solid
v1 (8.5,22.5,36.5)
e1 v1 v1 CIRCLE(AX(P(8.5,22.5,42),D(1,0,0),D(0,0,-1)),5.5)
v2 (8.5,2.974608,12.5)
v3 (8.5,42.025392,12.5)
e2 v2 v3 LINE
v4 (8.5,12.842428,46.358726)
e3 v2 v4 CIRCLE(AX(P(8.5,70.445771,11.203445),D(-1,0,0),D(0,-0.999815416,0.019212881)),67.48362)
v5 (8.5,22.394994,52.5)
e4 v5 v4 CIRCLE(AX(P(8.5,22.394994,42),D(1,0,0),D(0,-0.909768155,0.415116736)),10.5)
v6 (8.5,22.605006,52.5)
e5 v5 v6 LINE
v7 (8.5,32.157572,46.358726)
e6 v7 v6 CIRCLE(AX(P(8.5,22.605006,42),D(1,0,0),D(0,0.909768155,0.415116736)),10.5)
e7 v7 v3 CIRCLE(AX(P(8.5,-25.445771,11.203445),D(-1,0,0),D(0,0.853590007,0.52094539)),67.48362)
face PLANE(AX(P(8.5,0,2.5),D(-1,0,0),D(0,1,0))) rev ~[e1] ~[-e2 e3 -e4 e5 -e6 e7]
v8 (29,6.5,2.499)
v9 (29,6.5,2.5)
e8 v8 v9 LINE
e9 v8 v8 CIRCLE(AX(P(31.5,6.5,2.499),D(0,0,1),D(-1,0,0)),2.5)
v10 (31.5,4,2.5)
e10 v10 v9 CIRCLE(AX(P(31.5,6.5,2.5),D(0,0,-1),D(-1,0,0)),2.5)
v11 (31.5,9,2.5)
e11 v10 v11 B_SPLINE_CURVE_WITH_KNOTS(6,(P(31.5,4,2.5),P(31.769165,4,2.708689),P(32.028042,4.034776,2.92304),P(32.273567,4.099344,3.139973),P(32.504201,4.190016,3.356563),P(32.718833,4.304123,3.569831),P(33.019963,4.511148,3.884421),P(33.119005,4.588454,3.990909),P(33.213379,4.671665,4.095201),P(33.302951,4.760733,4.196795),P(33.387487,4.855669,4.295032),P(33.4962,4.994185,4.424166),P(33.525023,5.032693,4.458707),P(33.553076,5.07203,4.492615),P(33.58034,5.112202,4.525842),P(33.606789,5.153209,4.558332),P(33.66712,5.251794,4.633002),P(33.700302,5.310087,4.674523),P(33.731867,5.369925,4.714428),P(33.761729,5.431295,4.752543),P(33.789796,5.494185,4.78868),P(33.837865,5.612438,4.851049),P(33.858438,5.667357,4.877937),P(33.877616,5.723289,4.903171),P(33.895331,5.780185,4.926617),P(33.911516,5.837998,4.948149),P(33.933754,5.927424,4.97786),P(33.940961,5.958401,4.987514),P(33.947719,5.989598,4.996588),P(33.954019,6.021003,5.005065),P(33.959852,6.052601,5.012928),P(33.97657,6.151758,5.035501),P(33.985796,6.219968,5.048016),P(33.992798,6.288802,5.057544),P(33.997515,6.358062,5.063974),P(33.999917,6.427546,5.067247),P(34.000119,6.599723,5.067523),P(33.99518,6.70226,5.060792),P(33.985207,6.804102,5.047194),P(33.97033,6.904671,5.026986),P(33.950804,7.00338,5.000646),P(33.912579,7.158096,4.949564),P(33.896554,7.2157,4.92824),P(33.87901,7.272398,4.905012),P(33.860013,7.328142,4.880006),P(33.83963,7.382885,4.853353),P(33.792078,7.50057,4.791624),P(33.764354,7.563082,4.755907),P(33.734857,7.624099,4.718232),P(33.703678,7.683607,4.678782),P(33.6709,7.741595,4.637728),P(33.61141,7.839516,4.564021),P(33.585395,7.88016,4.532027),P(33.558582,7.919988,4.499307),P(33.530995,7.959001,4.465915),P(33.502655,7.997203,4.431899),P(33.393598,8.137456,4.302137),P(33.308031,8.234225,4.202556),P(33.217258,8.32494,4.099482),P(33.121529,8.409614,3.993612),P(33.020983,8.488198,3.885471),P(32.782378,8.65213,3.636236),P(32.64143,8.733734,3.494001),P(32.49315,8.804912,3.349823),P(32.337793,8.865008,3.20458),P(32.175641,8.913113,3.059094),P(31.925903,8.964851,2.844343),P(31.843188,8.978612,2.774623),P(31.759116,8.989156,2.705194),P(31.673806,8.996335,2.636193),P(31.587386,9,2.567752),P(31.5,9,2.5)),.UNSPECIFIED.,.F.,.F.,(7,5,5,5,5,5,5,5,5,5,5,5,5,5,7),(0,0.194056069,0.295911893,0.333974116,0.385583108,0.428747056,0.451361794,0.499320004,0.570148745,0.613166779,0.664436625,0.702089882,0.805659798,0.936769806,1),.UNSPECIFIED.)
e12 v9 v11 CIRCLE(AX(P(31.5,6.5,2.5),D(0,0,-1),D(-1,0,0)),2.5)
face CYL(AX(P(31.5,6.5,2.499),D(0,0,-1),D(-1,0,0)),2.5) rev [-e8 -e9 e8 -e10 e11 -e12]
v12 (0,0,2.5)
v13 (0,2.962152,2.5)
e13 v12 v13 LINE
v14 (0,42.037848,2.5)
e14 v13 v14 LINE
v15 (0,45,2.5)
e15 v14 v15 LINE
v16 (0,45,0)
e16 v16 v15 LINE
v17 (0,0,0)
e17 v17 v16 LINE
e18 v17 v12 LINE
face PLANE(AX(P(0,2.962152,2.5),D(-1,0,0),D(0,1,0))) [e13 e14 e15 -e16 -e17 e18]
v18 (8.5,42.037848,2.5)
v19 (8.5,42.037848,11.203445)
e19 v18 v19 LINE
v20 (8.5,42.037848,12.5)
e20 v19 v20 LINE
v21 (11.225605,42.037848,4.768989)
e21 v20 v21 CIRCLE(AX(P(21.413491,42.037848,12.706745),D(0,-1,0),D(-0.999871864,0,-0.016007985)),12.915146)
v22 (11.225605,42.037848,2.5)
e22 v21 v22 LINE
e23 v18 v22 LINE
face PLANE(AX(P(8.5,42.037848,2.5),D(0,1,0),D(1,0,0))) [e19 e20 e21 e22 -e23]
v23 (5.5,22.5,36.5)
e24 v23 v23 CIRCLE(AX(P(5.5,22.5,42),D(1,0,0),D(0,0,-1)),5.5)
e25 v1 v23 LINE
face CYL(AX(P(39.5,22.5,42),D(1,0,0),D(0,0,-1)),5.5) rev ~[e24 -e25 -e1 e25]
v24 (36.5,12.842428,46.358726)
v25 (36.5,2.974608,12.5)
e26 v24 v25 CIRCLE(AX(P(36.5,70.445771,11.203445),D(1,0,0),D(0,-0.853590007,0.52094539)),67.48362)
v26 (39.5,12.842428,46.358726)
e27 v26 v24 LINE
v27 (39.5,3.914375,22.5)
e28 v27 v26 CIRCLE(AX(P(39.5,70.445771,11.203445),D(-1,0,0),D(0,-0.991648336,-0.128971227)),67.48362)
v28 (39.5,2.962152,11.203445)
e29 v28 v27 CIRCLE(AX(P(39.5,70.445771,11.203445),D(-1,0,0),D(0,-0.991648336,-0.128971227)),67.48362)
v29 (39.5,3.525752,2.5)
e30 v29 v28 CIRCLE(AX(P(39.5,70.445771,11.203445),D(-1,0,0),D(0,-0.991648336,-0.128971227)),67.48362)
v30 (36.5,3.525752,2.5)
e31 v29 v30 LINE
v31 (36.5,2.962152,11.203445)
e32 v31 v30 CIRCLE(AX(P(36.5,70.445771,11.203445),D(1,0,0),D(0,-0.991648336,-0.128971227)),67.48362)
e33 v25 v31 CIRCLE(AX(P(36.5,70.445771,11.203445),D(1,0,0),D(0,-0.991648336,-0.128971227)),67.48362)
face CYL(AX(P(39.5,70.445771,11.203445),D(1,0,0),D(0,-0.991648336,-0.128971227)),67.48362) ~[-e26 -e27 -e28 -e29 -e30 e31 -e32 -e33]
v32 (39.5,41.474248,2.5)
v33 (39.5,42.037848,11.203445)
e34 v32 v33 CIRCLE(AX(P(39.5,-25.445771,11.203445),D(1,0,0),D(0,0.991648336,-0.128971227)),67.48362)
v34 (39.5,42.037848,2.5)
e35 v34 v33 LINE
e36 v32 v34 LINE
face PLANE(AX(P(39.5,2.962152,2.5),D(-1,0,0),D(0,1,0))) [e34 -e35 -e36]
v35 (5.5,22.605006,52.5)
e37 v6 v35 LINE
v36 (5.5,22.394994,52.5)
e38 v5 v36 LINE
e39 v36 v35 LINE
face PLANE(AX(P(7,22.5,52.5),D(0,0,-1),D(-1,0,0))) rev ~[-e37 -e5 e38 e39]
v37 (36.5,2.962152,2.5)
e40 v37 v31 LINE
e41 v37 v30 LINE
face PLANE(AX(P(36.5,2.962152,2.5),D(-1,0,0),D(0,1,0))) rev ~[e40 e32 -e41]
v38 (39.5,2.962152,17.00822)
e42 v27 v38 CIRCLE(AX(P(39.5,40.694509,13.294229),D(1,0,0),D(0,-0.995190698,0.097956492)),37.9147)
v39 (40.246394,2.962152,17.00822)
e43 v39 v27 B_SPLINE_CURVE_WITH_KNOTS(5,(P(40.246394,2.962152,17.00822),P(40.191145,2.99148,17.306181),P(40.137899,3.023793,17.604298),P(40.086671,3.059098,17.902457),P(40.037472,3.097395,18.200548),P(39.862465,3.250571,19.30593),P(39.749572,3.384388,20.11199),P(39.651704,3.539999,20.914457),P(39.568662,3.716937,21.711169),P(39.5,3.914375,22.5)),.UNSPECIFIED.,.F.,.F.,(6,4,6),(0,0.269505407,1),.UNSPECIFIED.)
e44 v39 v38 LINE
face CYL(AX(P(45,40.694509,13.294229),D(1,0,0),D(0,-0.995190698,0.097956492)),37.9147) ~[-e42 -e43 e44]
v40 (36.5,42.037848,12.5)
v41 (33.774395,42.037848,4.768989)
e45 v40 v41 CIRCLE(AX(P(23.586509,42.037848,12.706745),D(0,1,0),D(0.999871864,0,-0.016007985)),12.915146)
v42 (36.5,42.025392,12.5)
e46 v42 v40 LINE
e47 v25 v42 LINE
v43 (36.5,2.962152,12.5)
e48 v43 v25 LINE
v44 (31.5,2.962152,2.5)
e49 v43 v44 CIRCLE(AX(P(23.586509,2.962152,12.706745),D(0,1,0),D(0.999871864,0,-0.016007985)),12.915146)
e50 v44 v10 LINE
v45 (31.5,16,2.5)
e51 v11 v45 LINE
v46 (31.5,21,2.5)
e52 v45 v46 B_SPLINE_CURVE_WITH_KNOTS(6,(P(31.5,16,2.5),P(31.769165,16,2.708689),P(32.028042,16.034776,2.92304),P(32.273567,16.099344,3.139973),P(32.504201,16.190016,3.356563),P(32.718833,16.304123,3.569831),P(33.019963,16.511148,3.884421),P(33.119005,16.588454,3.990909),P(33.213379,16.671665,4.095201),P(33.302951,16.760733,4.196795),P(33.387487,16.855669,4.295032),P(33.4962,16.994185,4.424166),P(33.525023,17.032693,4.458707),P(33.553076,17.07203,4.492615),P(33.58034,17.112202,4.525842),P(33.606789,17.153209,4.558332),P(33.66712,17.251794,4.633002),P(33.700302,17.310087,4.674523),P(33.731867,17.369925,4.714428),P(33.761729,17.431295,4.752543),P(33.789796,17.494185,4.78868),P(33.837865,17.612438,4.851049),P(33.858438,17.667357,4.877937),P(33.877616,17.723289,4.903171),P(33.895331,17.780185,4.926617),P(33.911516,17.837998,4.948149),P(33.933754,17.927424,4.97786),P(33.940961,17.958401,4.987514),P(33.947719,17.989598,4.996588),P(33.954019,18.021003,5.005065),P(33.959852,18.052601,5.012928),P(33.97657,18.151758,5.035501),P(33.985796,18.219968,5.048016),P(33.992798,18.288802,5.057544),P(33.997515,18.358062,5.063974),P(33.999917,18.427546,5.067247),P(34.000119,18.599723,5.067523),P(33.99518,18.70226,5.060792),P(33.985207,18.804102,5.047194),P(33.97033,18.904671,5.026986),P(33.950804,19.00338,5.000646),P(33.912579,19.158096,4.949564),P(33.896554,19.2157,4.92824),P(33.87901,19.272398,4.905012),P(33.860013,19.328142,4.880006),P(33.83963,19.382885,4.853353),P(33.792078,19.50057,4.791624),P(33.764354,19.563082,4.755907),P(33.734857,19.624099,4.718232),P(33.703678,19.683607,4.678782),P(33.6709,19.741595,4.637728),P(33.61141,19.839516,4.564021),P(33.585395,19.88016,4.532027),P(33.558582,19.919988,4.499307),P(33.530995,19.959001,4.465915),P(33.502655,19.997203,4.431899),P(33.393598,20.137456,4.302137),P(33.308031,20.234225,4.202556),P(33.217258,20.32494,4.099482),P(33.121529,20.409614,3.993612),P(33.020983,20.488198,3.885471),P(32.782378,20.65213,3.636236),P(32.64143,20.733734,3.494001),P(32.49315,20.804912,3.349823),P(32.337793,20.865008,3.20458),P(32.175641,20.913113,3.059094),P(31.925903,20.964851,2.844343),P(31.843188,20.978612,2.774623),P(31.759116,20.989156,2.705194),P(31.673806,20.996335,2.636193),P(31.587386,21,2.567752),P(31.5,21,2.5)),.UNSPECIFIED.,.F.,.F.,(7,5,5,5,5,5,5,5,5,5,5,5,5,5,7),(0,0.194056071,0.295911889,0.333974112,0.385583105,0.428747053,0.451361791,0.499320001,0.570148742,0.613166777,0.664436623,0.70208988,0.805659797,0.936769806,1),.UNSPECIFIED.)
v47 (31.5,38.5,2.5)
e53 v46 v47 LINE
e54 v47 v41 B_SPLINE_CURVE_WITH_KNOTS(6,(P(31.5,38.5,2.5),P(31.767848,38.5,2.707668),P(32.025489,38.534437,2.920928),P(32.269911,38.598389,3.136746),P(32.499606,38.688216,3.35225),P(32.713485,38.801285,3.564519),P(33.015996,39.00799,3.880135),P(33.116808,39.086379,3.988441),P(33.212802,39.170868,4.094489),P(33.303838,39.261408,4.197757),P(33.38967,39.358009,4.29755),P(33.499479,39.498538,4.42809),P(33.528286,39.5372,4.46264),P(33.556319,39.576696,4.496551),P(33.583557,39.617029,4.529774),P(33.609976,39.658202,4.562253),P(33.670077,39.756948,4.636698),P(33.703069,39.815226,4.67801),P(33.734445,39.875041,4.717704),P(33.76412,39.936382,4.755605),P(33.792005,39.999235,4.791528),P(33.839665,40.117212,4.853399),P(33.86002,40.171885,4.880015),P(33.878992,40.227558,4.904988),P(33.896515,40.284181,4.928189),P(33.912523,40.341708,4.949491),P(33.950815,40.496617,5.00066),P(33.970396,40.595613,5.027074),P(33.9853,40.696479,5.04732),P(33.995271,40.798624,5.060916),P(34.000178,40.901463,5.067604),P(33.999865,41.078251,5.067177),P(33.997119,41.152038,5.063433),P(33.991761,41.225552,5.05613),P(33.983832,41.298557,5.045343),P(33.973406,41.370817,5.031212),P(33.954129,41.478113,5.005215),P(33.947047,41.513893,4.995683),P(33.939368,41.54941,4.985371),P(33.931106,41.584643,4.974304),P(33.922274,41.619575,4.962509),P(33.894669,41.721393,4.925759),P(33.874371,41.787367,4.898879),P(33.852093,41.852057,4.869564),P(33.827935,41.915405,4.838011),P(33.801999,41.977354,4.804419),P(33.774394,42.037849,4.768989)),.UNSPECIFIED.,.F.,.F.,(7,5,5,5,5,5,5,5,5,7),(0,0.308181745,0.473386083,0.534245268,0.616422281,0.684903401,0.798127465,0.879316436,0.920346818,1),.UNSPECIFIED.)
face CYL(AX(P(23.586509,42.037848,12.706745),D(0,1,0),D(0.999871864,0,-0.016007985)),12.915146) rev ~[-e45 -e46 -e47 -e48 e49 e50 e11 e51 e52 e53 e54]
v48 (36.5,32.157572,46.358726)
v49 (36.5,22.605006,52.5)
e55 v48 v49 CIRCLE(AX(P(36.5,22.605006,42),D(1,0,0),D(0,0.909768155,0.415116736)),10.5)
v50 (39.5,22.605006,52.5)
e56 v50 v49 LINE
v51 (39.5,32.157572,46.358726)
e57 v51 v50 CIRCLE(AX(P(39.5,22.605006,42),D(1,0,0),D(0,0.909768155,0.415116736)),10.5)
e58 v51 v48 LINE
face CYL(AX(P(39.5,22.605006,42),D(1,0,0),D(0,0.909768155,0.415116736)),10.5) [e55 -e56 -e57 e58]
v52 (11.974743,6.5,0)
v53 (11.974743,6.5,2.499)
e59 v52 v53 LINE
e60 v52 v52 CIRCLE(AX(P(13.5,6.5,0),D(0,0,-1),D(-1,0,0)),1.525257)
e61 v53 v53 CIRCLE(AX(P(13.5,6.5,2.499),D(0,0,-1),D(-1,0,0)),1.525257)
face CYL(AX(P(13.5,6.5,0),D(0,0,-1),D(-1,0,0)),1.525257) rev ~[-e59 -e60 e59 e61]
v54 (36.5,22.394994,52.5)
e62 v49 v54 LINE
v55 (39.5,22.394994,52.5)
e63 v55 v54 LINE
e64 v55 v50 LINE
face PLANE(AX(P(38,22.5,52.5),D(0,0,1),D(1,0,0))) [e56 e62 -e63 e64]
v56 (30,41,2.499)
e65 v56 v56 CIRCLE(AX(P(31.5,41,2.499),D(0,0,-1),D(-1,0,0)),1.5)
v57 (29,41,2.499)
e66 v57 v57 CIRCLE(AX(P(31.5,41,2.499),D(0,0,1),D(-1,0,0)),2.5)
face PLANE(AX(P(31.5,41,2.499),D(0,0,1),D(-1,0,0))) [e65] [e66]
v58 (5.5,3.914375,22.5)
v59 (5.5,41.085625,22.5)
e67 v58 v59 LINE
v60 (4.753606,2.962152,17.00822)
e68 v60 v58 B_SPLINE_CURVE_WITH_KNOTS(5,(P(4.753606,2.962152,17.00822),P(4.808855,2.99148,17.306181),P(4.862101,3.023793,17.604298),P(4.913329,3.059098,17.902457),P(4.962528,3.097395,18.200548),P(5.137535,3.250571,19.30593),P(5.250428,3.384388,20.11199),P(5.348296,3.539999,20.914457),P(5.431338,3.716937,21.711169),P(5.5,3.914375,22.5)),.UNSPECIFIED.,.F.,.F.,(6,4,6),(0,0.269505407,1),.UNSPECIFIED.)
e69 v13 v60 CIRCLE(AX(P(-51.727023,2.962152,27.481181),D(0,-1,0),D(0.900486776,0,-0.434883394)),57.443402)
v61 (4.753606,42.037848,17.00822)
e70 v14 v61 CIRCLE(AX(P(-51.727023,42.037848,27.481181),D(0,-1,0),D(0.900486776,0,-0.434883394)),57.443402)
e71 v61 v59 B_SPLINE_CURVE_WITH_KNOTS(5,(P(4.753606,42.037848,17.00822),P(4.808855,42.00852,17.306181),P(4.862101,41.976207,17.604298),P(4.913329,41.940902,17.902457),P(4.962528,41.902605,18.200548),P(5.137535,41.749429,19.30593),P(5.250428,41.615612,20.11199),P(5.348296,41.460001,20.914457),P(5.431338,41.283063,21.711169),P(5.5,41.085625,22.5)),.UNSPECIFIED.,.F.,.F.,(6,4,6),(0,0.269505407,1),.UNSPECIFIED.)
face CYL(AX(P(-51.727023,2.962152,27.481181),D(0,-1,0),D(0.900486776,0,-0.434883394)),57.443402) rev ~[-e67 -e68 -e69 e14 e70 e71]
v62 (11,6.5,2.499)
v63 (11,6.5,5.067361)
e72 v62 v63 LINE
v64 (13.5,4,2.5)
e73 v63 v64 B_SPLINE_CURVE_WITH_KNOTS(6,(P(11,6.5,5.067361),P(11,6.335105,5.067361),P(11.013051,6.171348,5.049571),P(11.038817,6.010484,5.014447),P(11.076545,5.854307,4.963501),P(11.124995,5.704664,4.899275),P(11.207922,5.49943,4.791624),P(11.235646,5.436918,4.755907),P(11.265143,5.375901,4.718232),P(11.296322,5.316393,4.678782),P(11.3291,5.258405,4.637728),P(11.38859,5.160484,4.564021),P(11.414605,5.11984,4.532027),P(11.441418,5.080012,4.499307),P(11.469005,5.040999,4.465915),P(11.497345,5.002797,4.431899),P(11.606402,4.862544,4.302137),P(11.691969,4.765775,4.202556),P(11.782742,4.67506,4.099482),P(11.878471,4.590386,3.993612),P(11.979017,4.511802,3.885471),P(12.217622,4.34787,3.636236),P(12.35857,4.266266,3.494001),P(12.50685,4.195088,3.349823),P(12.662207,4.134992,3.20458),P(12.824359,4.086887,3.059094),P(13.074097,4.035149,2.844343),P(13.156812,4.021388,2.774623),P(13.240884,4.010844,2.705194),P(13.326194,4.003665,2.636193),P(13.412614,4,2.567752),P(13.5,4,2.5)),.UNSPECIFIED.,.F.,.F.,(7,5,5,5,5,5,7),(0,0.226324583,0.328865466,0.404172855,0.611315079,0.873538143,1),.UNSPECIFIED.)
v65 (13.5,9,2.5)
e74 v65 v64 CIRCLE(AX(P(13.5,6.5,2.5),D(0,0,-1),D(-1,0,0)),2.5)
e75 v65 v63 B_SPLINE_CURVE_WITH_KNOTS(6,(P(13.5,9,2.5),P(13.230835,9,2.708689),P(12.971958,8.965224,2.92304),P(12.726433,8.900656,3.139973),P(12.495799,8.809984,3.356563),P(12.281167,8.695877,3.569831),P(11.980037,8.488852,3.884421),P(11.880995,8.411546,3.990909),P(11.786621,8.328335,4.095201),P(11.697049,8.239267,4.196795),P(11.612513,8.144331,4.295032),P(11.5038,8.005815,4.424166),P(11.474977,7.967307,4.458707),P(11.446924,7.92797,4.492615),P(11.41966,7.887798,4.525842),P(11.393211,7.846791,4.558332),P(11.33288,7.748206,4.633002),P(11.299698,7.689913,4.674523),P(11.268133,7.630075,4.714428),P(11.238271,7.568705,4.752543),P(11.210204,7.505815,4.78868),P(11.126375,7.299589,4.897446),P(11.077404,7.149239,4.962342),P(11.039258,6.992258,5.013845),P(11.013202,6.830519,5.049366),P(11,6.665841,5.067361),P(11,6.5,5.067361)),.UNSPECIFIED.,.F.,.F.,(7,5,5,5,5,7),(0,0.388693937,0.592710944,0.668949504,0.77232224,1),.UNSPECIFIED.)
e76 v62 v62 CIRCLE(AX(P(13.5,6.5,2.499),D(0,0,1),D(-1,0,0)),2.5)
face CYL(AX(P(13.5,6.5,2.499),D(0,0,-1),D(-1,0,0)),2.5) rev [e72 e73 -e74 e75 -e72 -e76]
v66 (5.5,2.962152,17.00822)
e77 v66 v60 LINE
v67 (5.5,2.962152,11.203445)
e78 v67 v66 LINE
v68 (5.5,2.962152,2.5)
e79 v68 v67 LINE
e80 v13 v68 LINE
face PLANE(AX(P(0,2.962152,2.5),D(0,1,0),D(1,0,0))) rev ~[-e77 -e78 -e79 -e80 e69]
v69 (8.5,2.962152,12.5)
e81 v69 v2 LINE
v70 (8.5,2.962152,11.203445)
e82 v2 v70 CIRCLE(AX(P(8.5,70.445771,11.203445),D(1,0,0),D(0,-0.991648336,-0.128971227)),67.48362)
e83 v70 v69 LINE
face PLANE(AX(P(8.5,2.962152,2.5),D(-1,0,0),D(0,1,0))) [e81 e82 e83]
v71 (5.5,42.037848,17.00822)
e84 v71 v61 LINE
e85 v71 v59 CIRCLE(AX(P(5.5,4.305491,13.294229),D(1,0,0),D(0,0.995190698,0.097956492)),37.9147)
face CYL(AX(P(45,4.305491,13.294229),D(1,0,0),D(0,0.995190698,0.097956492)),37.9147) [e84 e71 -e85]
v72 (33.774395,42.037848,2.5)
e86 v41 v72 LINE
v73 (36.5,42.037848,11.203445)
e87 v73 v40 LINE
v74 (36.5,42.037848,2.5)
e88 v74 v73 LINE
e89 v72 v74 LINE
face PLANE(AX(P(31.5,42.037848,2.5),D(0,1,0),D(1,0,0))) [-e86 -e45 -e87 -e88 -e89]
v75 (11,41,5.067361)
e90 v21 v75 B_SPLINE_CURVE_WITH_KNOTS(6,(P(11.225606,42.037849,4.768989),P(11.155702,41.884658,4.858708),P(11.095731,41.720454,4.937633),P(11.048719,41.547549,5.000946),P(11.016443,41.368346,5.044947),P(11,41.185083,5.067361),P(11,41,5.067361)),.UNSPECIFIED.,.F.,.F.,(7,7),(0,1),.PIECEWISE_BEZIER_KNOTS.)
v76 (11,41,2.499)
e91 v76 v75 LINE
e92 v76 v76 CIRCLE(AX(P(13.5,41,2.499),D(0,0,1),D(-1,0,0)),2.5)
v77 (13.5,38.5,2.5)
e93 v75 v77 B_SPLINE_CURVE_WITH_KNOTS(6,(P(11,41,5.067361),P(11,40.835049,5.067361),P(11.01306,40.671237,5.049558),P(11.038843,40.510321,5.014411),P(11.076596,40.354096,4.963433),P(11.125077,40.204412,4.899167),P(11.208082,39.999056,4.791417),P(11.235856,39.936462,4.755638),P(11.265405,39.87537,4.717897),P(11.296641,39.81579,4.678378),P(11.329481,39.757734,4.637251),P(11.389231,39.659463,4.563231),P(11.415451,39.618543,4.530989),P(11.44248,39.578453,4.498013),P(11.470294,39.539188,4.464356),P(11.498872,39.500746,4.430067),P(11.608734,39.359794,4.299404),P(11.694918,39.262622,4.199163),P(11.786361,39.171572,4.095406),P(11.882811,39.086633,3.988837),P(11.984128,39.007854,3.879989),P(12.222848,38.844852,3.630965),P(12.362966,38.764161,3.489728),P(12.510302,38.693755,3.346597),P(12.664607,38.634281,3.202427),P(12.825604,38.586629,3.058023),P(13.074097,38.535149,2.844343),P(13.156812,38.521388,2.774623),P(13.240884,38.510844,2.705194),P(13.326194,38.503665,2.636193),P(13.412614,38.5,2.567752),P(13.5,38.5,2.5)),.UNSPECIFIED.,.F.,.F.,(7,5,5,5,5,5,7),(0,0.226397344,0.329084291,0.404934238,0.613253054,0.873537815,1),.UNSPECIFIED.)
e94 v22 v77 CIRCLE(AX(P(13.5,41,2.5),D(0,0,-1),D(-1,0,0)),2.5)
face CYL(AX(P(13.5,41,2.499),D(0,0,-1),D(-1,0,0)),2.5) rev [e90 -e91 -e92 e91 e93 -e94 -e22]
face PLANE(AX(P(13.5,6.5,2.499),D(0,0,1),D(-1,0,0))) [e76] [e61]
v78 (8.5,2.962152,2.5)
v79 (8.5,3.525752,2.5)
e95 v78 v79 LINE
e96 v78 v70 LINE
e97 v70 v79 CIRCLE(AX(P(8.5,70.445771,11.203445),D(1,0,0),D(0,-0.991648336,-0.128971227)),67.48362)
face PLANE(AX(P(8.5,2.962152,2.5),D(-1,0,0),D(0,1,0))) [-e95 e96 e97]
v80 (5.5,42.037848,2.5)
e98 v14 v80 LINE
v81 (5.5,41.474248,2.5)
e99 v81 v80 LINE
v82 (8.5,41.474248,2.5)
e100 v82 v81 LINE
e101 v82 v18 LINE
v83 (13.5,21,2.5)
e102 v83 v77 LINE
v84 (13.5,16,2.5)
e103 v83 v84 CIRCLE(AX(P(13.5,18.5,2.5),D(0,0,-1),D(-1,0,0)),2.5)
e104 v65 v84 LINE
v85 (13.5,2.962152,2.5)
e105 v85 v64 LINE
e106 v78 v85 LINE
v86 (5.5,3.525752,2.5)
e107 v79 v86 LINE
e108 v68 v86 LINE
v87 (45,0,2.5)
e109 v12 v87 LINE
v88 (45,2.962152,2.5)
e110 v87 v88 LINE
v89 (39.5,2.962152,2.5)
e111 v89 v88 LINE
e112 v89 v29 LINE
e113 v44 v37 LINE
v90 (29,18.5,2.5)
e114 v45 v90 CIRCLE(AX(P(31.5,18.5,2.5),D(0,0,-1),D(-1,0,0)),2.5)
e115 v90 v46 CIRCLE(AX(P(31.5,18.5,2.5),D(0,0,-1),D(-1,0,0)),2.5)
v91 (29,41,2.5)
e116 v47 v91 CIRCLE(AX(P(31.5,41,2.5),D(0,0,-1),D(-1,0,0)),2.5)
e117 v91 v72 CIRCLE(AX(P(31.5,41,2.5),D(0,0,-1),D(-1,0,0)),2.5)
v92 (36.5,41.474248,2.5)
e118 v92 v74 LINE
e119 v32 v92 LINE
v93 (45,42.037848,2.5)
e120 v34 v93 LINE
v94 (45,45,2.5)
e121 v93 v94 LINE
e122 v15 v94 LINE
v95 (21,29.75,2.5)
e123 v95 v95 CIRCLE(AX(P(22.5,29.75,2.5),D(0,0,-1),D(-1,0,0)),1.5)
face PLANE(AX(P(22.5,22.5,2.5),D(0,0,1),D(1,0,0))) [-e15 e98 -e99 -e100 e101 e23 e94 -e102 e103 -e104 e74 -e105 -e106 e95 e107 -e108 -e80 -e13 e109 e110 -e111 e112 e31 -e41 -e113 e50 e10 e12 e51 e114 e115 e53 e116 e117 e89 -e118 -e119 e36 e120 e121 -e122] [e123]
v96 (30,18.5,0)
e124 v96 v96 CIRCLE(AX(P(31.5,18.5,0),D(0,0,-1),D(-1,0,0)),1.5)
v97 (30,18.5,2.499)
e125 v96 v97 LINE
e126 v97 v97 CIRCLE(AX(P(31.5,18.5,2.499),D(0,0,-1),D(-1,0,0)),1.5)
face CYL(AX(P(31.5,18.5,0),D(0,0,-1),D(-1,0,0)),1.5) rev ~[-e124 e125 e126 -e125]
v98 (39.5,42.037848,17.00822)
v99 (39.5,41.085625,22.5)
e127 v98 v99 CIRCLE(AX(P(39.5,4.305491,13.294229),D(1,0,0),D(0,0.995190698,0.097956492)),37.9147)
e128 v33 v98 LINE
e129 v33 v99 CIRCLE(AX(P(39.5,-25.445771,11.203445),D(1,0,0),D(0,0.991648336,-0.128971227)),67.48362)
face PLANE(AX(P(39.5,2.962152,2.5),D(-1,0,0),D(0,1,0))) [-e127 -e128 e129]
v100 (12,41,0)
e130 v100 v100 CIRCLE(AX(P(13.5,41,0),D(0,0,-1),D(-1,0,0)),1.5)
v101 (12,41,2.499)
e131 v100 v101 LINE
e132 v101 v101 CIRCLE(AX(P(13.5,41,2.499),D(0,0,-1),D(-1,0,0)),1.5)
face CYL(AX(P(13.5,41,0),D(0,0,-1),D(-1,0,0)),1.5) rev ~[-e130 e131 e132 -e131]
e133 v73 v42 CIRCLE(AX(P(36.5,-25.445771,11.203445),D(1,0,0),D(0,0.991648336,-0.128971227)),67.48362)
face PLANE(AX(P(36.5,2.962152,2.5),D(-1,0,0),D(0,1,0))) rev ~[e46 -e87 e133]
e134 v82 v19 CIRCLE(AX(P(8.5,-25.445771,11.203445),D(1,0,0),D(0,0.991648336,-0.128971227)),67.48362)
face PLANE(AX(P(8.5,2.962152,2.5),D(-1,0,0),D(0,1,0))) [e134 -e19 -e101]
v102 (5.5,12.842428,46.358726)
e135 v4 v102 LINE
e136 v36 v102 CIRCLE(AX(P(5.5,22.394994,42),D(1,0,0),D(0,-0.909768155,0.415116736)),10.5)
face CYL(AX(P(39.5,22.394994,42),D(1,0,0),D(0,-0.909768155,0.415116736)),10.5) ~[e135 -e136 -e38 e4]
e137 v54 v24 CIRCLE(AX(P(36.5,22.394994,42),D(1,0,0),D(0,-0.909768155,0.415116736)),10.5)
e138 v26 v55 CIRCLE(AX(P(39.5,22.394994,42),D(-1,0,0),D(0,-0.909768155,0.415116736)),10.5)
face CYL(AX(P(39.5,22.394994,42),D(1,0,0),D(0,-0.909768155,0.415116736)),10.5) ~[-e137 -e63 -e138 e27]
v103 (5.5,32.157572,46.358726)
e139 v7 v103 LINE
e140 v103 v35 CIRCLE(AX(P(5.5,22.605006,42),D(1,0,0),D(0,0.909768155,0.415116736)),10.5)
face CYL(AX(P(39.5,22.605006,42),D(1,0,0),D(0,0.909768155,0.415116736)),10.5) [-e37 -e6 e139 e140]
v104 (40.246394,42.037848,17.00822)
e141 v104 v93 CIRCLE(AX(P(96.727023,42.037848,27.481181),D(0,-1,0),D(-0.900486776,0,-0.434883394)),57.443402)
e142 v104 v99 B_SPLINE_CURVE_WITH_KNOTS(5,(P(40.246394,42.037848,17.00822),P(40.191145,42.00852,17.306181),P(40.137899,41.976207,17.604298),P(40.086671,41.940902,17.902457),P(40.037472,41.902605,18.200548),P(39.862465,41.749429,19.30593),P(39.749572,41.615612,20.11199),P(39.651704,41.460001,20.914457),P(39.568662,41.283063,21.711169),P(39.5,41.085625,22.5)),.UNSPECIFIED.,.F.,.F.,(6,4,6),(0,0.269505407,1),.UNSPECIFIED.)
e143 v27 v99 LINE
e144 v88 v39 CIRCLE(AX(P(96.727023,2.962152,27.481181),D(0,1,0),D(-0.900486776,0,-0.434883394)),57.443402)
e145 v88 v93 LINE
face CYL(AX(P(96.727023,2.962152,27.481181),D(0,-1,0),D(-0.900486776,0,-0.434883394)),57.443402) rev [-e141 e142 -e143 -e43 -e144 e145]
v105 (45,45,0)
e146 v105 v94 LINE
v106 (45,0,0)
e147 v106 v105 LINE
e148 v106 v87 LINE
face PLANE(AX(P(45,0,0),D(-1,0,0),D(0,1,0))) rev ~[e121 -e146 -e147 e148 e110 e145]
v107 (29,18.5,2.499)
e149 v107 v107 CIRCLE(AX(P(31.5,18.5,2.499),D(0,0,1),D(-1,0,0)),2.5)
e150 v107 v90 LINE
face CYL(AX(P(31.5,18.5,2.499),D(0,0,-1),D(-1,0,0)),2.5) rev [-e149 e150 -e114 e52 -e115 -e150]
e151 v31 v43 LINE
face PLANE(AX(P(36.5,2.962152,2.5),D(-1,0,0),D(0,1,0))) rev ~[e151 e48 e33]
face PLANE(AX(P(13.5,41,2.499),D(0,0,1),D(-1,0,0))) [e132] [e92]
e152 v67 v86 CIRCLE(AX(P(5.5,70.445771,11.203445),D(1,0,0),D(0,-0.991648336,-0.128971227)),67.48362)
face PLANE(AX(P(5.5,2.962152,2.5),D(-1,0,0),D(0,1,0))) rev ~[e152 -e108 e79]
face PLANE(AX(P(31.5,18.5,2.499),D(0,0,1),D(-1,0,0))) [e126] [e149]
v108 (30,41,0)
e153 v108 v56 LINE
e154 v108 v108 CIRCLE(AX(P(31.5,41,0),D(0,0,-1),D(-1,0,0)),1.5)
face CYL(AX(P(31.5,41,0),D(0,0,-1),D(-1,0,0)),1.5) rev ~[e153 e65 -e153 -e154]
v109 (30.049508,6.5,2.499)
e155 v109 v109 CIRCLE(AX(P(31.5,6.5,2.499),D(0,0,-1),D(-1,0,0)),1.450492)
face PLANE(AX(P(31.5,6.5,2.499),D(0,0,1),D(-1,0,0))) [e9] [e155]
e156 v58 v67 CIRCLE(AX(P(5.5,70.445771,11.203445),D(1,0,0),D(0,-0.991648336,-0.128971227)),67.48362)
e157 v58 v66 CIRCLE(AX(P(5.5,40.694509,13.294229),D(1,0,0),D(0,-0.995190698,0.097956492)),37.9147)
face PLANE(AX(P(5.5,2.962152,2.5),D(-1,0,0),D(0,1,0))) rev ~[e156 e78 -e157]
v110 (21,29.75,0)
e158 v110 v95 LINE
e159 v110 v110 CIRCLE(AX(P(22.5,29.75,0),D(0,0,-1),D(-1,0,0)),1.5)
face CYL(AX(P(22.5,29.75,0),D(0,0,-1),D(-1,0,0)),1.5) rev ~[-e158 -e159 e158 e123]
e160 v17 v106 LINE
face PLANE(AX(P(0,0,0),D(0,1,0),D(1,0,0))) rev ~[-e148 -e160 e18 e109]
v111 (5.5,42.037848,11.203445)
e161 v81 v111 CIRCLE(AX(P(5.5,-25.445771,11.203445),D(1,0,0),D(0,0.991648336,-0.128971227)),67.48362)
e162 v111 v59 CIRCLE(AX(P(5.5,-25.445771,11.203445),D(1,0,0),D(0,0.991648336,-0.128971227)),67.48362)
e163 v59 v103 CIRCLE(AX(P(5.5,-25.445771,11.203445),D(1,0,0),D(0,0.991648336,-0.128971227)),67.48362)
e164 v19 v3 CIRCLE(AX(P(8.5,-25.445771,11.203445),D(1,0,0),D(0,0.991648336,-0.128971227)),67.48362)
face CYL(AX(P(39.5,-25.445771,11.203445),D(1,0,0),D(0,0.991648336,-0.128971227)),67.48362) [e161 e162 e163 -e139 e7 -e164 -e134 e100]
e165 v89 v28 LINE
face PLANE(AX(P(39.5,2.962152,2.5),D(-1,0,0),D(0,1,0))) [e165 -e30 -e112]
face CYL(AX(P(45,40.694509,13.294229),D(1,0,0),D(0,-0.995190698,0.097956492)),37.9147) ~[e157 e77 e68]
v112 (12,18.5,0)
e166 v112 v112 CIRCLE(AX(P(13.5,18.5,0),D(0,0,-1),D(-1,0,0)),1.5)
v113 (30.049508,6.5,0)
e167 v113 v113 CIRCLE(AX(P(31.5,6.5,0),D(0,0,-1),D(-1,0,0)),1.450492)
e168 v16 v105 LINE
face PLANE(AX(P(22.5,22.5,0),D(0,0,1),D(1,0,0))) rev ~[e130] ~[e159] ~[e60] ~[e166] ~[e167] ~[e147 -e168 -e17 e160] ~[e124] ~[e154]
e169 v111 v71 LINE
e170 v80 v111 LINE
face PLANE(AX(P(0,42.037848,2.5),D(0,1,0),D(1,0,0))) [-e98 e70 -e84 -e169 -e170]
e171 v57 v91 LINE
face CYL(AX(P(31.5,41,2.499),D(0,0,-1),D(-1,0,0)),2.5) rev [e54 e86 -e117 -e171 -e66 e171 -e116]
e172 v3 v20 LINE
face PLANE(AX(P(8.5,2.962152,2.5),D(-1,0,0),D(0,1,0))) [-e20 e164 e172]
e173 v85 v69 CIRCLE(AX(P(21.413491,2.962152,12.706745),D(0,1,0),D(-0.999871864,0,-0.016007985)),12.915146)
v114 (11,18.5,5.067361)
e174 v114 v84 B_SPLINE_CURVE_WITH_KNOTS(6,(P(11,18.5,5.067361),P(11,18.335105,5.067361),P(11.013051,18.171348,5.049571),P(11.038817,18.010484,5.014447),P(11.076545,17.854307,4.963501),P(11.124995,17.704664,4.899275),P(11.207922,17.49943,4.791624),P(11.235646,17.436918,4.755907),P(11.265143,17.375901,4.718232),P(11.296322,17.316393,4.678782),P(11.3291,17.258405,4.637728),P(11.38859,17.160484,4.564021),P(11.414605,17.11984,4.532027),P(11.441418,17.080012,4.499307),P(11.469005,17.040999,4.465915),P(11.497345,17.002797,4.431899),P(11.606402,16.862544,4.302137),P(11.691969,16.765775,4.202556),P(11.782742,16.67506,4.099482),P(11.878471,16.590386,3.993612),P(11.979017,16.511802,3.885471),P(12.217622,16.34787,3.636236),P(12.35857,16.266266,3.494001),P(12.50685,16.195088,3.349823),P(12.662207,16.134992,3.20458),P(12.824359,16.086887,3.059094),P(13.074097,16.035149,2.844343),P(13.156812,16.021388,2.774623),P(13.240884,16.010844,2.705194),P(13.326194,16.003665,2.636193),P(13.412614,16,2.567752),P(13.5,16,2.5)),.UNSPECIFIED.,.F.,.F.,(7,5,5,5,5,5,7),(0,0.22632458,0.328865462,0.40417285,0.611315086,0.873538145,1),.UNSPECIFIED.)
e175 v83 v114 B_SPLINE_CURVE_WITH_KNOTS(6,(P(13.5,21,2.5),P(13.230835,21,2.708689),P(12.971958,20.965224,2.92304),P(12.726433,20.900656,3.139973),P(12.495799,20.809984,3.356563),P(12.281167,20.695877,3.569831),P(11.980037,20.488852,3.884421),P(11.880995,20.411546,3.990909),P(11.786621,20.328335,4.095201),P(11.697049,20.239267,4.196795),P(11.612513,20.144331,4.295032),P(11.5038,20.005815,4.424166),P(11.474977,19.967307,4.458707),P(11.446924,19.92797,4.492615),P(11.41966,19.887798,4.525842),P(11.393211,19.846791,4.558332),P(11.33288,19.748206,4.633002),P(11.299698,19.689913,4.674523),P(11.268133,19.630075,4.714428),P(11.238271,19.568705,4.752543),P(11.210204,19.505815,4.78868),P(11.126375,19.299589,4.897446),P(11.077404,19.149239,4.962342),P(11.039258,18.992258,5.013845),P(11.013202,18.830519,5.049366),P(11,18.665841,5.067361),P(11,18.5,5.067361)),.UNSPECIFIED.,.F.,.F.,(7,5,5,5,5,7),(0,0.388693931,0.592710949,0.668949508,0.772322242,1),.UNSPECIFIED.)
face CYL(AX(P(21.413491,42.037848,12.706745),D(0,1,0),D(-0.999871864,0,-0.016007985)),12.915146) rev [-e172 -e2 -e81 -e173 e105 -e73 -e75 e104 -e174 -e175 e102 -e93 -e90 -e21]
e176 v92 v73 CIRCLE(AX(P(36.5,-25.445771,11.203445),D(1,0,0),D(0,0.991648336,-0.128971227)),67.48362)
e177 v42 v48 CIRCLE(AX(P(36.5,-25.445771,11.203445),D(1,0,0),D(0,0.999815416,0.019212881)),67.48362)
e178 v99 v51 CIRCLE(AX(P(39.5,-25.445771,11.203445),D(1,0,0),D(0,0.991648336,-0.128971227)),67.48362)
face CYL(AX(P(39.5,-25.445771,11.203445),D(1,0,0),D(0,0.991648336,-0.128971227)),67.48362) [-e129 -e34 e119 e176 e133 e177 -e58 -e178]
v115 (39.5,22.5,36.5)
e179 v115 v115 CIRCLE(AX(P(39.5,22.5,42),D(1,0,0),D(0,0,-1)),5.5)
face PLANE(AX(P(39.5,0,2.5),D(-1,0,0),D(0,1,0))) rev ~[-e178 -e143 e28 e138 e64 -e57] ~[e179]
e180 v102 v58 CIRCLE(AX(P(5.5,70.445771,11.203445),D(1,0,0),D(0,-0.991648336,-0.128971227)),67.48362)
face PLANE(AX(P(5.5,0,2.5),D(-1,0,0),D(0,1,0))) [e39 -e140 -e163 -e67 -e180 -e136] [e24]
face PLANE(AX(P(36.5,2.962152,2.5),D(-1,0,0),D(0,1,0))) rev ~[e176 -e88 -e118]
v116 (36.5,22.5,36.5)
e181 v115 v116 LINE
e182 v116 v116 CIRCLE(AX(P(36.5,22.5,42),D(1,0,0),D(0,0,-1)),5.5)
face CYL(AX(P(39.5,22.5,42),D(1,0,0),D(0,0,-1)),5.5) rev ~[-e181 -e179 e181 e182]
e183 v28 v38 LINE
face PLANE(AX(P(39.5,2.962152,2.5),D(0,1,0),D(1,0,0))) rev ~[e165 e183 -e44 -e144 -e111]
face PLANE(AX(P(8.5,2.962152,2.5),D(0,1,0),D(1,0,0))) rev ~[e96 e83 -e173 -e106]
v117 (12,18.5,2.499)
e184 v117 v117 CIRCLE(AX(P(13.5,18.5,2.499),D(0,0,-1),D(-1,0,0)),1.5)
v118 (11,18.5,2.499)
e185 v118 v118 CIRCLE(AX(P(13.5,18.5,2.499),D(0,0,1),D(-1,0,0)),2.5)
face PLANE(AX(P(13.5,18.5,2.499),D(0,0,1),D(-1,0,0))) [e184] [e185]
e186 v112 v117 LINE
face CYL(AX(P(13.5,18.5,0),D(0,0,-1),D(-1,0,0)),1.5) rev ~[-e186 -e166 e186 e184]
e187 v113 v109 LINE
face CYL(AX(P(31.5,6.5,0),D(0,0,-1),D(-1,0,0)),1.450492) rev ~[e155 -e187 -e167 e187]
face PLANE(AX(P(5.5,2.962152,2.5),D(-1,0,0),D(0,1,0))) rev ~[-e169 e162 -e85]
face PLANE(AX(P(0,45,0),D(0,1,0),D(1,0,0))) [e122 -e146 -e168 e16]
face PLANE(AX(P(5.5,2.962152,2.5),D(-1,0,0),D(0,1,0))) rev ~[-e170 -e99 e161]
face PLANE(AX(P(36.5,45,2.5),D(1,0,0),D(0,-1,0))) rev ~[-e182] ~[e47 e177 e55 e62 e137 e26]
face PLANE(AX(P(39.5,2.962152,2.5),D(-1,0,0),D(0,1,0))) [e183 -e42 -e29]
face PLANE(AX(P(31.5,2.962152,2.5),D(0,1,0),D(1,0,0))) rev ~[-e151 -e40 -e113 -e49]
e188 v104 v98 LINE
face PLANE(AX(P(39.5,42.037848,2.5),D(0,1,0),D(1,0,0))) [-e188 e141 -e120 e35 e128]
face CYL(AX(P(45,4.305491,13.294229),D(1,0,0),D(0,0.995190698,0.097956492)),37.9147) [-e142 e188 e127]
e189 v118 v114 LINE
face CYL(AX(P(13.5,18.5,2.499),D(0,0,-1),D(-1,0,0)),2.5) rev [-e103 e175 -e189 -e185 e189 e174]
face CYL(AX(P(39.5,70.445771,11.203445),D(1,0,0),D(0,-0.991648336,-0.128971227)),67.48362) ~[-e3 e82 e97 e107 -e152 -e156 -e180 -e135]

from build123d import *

# Parameters (mm, degrees)
SKETCH_1_W               = 45
SKETCH_1_H               = 45
EXTRUDE_1_DEPTH          = 2.5
EXTRUDE_2_DEPTH          = 50
SKETCH_3_R               = 5.5
CUT_EXTRUDE_1_DEPTH      = 80.633535649
CUT_EXTRUDE_2_DEPTH      = 80.633535649
SKETCH_5_W               = 5
SKETCH_5_H               = 39.075696326
EXTRUDE_3_DEPTH          = 10
CUT_EXTRUDE_3_DEPTH      = 81.922374398
SKETCH_7_W               = 5.5
SKETCH_7_H               = 39.075696326
EXTRUDE_4_DEPTH          = 20
CUT_EXTRUDE_4_DEPTH      = 83.5
CUT_EXTRUDE_5_DEPTH      = 81.922374398
CUT_EXTRUDE_7_REACH      = 84.5
SKETCH_12_R              = 1.5
SKETCH_12_R_2            = 1.525256865
SKETCH_12_R_3            = 1.450491537
CUT_EXTRUDE_8_DEPTH      = 10
CUT_EXTRUDE_8_DEPTH_BACK = 0.001
SKETCH_13_R              = 2.5


with BuildPart() as part:
    # 草图1 → 凸台-拉伸1 (new body)
    with BuildSketch(Plane.XY):
        with Locations((22.5, 22.5)):
            Rectangle(SKETCH_1_W, SKETCH_1_H)
    extrude(amount=EXTRUDE_1_DEPTH)

    # 草图2 → 凸台-拉伸2 (add)
    with BuildSketch(Plane.XY.offset(2.5)):
        Polygon((36.5, 22.5), (36.5, 0), (39.5, 0), (39.5, 45), (36.5, 45), align=None)
        Polygon((8.5, 45), (8.5, 22.5), (8.5, 0), (5.5, 0), (5.5, 45), align=None)
    extrude(amount=EXTRUDE_2_DEPTH)

    # 草图3 → 切除-拉伸1 (cut, through all)
    with BuildSketch(Plane(origin=(39.5, 0, 0), x_dir=(0, 0, -1), z_dir=(1, 0, 0))):
        with Locations((-42, 22.5)):
            Circle(SKETCH_3_R)
    extrude(amount=-CUT_EXTRUDE_1_DEPTH, mode=Mode.SUBTRACT)

    # 草图4 → 切除-拉伸2 (cut, through all)
    with BuildSketch(Plane(origin=(39.5, 0, 0), x_dir=(0, 0, -1), z_dir=(1, 0, 0))):
        with BuildLine():
            Line((-2.5, 45), (-2.5, 41.474247654))
            ThreePointArc((-2.5, 41.474247654), (-25.225749209, 40.564939101), (-46.358725725, 32.157571933))
            ThreePointArc((-46.358725725, 32.157571933), (-50.832231318, 28.283182945), (-52.5, 22.605006306))
            Line((-52.5, 22.605006306), (-52.5, 45))
            Line((-52.5, 45), (-2.5, 45))
        make_face()
        with BuildLine():
            Line((-52.5, 22.394993694), (-52.5, 0))
            Line((-52.5, 0), (-2.5, 0))
            Line((-2.5, 0), (-2.5, 3.525752346))
            ThreePointArc((-2.5, 3.525752346), (-25.225749209, 4.435060899), (-46.358725725, 12.842428067))
            ThreePointArc((-46.358725725, 12.842428067), (-50.832231318, 16.716817055), (-52.5, 22.394993694))
        make_face()
    extrude(amount=-CUT_EXTRUDE_2_DEPTH, mode=Mode.SUBTRACT)

    # 草图5 → 凸台-拉伸3 (add)
    with BuildSketch(Plane.XY.offset(2.5)):
        with Locations((11, 22.5)):
            Rectangle(SKETCH_5_W, SKETCH_5_H)
        with Locations((34, 22.5)):
            Rectangle(SKETCH_5_W, SKETCH_5_H)
    extrude(amount=EXTRUDE_3_DEPTH)

    # 草图6 → 切除-拉伸3 (cut, through all)
    with BuildSketch(Plane(origin=(0, 42.037848163, 0), x_dir=(1, 0, 0), z_dir=(0, 1, 0))):
        with BuildLine():
            Line((13.5, -2.5), (13.5, -12.5))
            Line((13.5, -12.5), (8.5, -12.5))
            ThreePointArc((8.5, -12.5), (9.861833326, -6.930916663), (13.5, -2.5))
        make_face()
        with BuildLine():
            Line((31.5, -2.5), (31.5, -12.5))
            Line((31.5, -12.5), (36.5, -12.5))
            ThreePointArc((36.5, -12.5), (35.138166674, -6.930916663), (31.5, -2.5))
        make_face()
    extrude(amount=-CUT_EXTRUDE_3_DEPTH, mode=Mode.SUBTRACT)

    # 草图7 → 凸台-拉伸4 (add)
    with BuildSketch(Plane.XY.offset(2.5)):
        with Locations((2.75, 22.5)):
            Rectangle(SKETCH_7_W, SKETCH_7_H)
        with Locations((42.25, 22.5)):
            Rectangle(SKETCH_7_W, SKETCH_7_H)
    extrude(amount=EXTRUDE_4_DEPTH)

    # 草图8 → 切除-拉伸4 (cut, through all)
    with BuildSketch(Plane(origin=(45, 0, 0), x_dir=(0, 0, -1), z_dir=(1, 0, 0))):
        with BuildLine():
            Line((-22.5, 41.085625399), (-22.5, 42.037848163))
            Line((-22.5, 42.037848163), (-17.008220021, 42.037848163))
            ThreePointArc((-17.008220021, 42.037848163), (-19.771631621, 41.662789638), (-22.5, 41.085625399))
        make_face()
        with BuildLine():
            Line((-22.5, 3.914374601), (-22.5, 2.962151837))
            Line((-22.5, 2.962151837), (-17.008220021, 2.962151837))
            ThreePointArc((-17.008220021, 2.962151837), (-19.771631621, 3.337210362), (-22.5, 3.914374601))
        make_face()
    extrude(amount=-CUT_EXTRUDE_4_DEPTH, mode=Mode.SUBTRACT)

    # 草图9 → 切除-拉伸5 (cut, through all)
    with BuildSketch(Plane(origin=(0, 2.962151837, 0), x_dir=(-1, 0, 0), z_dir=(0, -1, 0))):
        with BuildLine():
            Line((-39.5, -22.5), (-45, -22.5))
            Line((-45, -22.5), (-45, -2.5))
            ThreePointArc((-45, -2.5), (-41.339785895, -12.249691121), (-39.5, -22.5))
        make_face()
        with BuildLine():
            Line((-5.5, -22.5), (0, -22.5))
            Line((0, -22.5), (0, -2.5))
            ThreePointArc((0, -2.5), (-3.660214105, -12.249691121), (-5.5, -22.5))
        make_face()
    extrude(amount=-CUT_EXTRUDE_5_DEPTH, mode=Mode.SUBTRACT)

    # 草图12 → 切除-拉伸7 (cut, up to next)
    with BuildSketch(Plane(origin=(0, 0, 0), x_dir=(-1, 0, 0), z_dir=(0, 0, -1)), mode=Mode.PRIVATE) as cut_extrude_7_sk1:
        with Locations((-13.5, 18.5)):
            Circle(SKETCH_12_R)
    cut_extrude_7_tool1 = extrude(cut_extrude_7_sk1.sketch, amount=-CUT_EXTRUDE_7_REACH, mode=Mode.PRIVATE) & part.part
    # 草图12 → 切除-拉伸7 (cut, up to next)
    with BuildSketch(Plane(origin=(0, 0, 0), x_dir=(-1, 0, 0), z_dir=(0, 0, -1)), mode=Mode.PRIVATE) as cut_extrude_7_sk2:
        with Locations((-13.5, 6.5)):
            Circle(SKETCH_12_R_2)
    cut_extrude_7_tool2 = extrude(cut_extrude_7_sk2.sketch, amount=-CUT_EXTRUDE_7_REACH, mode=Mode.PRIVATE) & part.part
    # 草图12 → 切除-拉伸7 (cut, up to next)
    with BuildSketch(Plane(origin=(0, 0, 0), x_dir=(-1, 0, 0), z_dir=(0, 0, -1)), mode=Mode.PRIVATE) as cut_extrude_7_sk3:
        with Locations((-31.5, 18.5)):
            Circle(SKETCH_12_R)
    cut_extrude_7_tool3 = extrude(cut_extrude_7_sk3.sketch, amount=-CUT_EXTRUDE_7_REACH, mode=Mode.PRIVATE) & part.part
    # 草图12 → 切除-拉伸7 (cut, up to next)
    with BuildSketch(Plane(origin=(0, 0, 0), x_dir=(-1, 0, 0), z_dir=(0, 0, -1)), mode=Mode.PRIVATE) as cut_extrude_7_sk4:
        with Locations((-31.5, 6.5)):
            Circle(SKETCH_12_R_3)
    cut_extrude_7_tool4 = extrude(cut_extrude_7_sk4.sketch, amount=-CUT_EXTRUDE_7_REACH, mode=Mode.PRIVATE) & part.part
    # 草图12 → 切除-拉伸7 (cut, up to next)
    with BuildSketch(Plane(origin=(0, 0, 0), x_dir=(-1, 0, 0), z_dir=(0, 0, -1)), mode=Mode.PRIVATE) as cut_extrude_7_sk5:
        with Locations((-13.5, 41)):
            Circle(SKETCH_12_R)
    cut_extrude_7_tool5 = extrude(cut_extrude_7_sk5.sketch, amount=-CUT_EXTRUDE_7_REACH, mode=Mode.PRIVATE) & part.part
    # 草图12 → 切除-拉伸7 (cut, up to next)
    with BuildSketch(Plane(origin=(0, 0, 0), x_dir=(-1, 0, 0), z_dir=(0, 0, -1)), mode=Mode.PRIVATE) as cut_extrude_7_sk6:
        with Locations((-31.5, 41)):
            Circle(SKETCH_12_R)
    cut_extrude_7_tool6 = extrude(cut_extrude_7_sk6.sketch, amount=-CUT_EXTRUDE_7_REACH, mode=Mode.PRIVATE) & part.part
    # 草图12 → 切除-拉伸7 (cut, up to next)
    with BuildSketch(Plane(origin=(0, 0, 0), x_dir=(-1, 0, 0), z_dir=(0, 0, -1)), mode=Mode.PRIVATE) as cut_extrude_7_sk7:
        with Locations((-22.5, 29.75)):
            Circle(SKETCH_12_R)
    cut_extrude_7_tool7 = extrude(cut_extrude_7_sk7.sketch, amount=-CUT_EXTRUDE_7_REACH, mode=Mode.PRIVATE) & part.part
    add(cut_extrude_7_tool1.solids().sort_by_distance((13.5, 18.5, 0))[0], mode=Mode.SUBTRACT)
    add(cut_extrude_7_tool2.solids().sort_by_distance((13.5, 6.5, 0))[0], mode=Mode.SUBTRACT)
    add(cut_extrude_7_tool3.solids().sort_by_distance((31.5, 18.5, 0))[0], mode=Mode.SUBTRACT)
    add(cut_extrude_7_tool4.solids().sort_by_distance((31.5, 6.5, 0))[0], mode=Mode.SUBTRACT)
    add(cut_extrude_7_tool5.solids().sort_by_distance((13.5, 41, 0))[0], mode=Mode.SUBTRACT)
    add(cut_extrude_7_tool6.solids().sort_by_distance((31.5, 41, 0))[0], mode=Mode.SUBTRACT)
    add(cut_extrude_7_tool7.solids().sort_by_distance((22.5, 29.75, 0))[0], mode=Mode.SUBTRACT)

    # 草图13 → 切除-拉伸8 (cut, two sides: drawn at the far end of the back side and taken through both)
    with BuildSketch(Plane.XY.offset(2.5).offset(-CUT_EXTRUDE_8_DEPTH_BACK)):
        with Locations(Location((13.5, 6.5, 0), (0, 0, 180))):
            Circle(SKETCH_13_R)
        with Locations(Location((13.5, 18.5, 0), (0, 0, 180))):
            Circle(SKETCH_13_R)
        with Locations(Location((13.5, 41, 0), (0, 0, 180))):
            Circle(SKETCH_13_R)
        with Locations(Location((31.5, 41, 0), (0, 0, 180))):
            Circle(SKETCH_13_R)
        with Locations(Location((31.5, 18.5, 0), (0, 0, 180))):
            Circle(SKETCH_13_R)
        with Locations(Location((31.5, 6.5, 0), (0, 0, 180))):
            Circle(SKETCH_13_R)
    extrude(amount=CUT_EXTRUDE_8_DEPTH + CUT_EXTRUDE_8_DEPTH_BACK, mode=Mode.SUBTRACT)


solid = part.part
